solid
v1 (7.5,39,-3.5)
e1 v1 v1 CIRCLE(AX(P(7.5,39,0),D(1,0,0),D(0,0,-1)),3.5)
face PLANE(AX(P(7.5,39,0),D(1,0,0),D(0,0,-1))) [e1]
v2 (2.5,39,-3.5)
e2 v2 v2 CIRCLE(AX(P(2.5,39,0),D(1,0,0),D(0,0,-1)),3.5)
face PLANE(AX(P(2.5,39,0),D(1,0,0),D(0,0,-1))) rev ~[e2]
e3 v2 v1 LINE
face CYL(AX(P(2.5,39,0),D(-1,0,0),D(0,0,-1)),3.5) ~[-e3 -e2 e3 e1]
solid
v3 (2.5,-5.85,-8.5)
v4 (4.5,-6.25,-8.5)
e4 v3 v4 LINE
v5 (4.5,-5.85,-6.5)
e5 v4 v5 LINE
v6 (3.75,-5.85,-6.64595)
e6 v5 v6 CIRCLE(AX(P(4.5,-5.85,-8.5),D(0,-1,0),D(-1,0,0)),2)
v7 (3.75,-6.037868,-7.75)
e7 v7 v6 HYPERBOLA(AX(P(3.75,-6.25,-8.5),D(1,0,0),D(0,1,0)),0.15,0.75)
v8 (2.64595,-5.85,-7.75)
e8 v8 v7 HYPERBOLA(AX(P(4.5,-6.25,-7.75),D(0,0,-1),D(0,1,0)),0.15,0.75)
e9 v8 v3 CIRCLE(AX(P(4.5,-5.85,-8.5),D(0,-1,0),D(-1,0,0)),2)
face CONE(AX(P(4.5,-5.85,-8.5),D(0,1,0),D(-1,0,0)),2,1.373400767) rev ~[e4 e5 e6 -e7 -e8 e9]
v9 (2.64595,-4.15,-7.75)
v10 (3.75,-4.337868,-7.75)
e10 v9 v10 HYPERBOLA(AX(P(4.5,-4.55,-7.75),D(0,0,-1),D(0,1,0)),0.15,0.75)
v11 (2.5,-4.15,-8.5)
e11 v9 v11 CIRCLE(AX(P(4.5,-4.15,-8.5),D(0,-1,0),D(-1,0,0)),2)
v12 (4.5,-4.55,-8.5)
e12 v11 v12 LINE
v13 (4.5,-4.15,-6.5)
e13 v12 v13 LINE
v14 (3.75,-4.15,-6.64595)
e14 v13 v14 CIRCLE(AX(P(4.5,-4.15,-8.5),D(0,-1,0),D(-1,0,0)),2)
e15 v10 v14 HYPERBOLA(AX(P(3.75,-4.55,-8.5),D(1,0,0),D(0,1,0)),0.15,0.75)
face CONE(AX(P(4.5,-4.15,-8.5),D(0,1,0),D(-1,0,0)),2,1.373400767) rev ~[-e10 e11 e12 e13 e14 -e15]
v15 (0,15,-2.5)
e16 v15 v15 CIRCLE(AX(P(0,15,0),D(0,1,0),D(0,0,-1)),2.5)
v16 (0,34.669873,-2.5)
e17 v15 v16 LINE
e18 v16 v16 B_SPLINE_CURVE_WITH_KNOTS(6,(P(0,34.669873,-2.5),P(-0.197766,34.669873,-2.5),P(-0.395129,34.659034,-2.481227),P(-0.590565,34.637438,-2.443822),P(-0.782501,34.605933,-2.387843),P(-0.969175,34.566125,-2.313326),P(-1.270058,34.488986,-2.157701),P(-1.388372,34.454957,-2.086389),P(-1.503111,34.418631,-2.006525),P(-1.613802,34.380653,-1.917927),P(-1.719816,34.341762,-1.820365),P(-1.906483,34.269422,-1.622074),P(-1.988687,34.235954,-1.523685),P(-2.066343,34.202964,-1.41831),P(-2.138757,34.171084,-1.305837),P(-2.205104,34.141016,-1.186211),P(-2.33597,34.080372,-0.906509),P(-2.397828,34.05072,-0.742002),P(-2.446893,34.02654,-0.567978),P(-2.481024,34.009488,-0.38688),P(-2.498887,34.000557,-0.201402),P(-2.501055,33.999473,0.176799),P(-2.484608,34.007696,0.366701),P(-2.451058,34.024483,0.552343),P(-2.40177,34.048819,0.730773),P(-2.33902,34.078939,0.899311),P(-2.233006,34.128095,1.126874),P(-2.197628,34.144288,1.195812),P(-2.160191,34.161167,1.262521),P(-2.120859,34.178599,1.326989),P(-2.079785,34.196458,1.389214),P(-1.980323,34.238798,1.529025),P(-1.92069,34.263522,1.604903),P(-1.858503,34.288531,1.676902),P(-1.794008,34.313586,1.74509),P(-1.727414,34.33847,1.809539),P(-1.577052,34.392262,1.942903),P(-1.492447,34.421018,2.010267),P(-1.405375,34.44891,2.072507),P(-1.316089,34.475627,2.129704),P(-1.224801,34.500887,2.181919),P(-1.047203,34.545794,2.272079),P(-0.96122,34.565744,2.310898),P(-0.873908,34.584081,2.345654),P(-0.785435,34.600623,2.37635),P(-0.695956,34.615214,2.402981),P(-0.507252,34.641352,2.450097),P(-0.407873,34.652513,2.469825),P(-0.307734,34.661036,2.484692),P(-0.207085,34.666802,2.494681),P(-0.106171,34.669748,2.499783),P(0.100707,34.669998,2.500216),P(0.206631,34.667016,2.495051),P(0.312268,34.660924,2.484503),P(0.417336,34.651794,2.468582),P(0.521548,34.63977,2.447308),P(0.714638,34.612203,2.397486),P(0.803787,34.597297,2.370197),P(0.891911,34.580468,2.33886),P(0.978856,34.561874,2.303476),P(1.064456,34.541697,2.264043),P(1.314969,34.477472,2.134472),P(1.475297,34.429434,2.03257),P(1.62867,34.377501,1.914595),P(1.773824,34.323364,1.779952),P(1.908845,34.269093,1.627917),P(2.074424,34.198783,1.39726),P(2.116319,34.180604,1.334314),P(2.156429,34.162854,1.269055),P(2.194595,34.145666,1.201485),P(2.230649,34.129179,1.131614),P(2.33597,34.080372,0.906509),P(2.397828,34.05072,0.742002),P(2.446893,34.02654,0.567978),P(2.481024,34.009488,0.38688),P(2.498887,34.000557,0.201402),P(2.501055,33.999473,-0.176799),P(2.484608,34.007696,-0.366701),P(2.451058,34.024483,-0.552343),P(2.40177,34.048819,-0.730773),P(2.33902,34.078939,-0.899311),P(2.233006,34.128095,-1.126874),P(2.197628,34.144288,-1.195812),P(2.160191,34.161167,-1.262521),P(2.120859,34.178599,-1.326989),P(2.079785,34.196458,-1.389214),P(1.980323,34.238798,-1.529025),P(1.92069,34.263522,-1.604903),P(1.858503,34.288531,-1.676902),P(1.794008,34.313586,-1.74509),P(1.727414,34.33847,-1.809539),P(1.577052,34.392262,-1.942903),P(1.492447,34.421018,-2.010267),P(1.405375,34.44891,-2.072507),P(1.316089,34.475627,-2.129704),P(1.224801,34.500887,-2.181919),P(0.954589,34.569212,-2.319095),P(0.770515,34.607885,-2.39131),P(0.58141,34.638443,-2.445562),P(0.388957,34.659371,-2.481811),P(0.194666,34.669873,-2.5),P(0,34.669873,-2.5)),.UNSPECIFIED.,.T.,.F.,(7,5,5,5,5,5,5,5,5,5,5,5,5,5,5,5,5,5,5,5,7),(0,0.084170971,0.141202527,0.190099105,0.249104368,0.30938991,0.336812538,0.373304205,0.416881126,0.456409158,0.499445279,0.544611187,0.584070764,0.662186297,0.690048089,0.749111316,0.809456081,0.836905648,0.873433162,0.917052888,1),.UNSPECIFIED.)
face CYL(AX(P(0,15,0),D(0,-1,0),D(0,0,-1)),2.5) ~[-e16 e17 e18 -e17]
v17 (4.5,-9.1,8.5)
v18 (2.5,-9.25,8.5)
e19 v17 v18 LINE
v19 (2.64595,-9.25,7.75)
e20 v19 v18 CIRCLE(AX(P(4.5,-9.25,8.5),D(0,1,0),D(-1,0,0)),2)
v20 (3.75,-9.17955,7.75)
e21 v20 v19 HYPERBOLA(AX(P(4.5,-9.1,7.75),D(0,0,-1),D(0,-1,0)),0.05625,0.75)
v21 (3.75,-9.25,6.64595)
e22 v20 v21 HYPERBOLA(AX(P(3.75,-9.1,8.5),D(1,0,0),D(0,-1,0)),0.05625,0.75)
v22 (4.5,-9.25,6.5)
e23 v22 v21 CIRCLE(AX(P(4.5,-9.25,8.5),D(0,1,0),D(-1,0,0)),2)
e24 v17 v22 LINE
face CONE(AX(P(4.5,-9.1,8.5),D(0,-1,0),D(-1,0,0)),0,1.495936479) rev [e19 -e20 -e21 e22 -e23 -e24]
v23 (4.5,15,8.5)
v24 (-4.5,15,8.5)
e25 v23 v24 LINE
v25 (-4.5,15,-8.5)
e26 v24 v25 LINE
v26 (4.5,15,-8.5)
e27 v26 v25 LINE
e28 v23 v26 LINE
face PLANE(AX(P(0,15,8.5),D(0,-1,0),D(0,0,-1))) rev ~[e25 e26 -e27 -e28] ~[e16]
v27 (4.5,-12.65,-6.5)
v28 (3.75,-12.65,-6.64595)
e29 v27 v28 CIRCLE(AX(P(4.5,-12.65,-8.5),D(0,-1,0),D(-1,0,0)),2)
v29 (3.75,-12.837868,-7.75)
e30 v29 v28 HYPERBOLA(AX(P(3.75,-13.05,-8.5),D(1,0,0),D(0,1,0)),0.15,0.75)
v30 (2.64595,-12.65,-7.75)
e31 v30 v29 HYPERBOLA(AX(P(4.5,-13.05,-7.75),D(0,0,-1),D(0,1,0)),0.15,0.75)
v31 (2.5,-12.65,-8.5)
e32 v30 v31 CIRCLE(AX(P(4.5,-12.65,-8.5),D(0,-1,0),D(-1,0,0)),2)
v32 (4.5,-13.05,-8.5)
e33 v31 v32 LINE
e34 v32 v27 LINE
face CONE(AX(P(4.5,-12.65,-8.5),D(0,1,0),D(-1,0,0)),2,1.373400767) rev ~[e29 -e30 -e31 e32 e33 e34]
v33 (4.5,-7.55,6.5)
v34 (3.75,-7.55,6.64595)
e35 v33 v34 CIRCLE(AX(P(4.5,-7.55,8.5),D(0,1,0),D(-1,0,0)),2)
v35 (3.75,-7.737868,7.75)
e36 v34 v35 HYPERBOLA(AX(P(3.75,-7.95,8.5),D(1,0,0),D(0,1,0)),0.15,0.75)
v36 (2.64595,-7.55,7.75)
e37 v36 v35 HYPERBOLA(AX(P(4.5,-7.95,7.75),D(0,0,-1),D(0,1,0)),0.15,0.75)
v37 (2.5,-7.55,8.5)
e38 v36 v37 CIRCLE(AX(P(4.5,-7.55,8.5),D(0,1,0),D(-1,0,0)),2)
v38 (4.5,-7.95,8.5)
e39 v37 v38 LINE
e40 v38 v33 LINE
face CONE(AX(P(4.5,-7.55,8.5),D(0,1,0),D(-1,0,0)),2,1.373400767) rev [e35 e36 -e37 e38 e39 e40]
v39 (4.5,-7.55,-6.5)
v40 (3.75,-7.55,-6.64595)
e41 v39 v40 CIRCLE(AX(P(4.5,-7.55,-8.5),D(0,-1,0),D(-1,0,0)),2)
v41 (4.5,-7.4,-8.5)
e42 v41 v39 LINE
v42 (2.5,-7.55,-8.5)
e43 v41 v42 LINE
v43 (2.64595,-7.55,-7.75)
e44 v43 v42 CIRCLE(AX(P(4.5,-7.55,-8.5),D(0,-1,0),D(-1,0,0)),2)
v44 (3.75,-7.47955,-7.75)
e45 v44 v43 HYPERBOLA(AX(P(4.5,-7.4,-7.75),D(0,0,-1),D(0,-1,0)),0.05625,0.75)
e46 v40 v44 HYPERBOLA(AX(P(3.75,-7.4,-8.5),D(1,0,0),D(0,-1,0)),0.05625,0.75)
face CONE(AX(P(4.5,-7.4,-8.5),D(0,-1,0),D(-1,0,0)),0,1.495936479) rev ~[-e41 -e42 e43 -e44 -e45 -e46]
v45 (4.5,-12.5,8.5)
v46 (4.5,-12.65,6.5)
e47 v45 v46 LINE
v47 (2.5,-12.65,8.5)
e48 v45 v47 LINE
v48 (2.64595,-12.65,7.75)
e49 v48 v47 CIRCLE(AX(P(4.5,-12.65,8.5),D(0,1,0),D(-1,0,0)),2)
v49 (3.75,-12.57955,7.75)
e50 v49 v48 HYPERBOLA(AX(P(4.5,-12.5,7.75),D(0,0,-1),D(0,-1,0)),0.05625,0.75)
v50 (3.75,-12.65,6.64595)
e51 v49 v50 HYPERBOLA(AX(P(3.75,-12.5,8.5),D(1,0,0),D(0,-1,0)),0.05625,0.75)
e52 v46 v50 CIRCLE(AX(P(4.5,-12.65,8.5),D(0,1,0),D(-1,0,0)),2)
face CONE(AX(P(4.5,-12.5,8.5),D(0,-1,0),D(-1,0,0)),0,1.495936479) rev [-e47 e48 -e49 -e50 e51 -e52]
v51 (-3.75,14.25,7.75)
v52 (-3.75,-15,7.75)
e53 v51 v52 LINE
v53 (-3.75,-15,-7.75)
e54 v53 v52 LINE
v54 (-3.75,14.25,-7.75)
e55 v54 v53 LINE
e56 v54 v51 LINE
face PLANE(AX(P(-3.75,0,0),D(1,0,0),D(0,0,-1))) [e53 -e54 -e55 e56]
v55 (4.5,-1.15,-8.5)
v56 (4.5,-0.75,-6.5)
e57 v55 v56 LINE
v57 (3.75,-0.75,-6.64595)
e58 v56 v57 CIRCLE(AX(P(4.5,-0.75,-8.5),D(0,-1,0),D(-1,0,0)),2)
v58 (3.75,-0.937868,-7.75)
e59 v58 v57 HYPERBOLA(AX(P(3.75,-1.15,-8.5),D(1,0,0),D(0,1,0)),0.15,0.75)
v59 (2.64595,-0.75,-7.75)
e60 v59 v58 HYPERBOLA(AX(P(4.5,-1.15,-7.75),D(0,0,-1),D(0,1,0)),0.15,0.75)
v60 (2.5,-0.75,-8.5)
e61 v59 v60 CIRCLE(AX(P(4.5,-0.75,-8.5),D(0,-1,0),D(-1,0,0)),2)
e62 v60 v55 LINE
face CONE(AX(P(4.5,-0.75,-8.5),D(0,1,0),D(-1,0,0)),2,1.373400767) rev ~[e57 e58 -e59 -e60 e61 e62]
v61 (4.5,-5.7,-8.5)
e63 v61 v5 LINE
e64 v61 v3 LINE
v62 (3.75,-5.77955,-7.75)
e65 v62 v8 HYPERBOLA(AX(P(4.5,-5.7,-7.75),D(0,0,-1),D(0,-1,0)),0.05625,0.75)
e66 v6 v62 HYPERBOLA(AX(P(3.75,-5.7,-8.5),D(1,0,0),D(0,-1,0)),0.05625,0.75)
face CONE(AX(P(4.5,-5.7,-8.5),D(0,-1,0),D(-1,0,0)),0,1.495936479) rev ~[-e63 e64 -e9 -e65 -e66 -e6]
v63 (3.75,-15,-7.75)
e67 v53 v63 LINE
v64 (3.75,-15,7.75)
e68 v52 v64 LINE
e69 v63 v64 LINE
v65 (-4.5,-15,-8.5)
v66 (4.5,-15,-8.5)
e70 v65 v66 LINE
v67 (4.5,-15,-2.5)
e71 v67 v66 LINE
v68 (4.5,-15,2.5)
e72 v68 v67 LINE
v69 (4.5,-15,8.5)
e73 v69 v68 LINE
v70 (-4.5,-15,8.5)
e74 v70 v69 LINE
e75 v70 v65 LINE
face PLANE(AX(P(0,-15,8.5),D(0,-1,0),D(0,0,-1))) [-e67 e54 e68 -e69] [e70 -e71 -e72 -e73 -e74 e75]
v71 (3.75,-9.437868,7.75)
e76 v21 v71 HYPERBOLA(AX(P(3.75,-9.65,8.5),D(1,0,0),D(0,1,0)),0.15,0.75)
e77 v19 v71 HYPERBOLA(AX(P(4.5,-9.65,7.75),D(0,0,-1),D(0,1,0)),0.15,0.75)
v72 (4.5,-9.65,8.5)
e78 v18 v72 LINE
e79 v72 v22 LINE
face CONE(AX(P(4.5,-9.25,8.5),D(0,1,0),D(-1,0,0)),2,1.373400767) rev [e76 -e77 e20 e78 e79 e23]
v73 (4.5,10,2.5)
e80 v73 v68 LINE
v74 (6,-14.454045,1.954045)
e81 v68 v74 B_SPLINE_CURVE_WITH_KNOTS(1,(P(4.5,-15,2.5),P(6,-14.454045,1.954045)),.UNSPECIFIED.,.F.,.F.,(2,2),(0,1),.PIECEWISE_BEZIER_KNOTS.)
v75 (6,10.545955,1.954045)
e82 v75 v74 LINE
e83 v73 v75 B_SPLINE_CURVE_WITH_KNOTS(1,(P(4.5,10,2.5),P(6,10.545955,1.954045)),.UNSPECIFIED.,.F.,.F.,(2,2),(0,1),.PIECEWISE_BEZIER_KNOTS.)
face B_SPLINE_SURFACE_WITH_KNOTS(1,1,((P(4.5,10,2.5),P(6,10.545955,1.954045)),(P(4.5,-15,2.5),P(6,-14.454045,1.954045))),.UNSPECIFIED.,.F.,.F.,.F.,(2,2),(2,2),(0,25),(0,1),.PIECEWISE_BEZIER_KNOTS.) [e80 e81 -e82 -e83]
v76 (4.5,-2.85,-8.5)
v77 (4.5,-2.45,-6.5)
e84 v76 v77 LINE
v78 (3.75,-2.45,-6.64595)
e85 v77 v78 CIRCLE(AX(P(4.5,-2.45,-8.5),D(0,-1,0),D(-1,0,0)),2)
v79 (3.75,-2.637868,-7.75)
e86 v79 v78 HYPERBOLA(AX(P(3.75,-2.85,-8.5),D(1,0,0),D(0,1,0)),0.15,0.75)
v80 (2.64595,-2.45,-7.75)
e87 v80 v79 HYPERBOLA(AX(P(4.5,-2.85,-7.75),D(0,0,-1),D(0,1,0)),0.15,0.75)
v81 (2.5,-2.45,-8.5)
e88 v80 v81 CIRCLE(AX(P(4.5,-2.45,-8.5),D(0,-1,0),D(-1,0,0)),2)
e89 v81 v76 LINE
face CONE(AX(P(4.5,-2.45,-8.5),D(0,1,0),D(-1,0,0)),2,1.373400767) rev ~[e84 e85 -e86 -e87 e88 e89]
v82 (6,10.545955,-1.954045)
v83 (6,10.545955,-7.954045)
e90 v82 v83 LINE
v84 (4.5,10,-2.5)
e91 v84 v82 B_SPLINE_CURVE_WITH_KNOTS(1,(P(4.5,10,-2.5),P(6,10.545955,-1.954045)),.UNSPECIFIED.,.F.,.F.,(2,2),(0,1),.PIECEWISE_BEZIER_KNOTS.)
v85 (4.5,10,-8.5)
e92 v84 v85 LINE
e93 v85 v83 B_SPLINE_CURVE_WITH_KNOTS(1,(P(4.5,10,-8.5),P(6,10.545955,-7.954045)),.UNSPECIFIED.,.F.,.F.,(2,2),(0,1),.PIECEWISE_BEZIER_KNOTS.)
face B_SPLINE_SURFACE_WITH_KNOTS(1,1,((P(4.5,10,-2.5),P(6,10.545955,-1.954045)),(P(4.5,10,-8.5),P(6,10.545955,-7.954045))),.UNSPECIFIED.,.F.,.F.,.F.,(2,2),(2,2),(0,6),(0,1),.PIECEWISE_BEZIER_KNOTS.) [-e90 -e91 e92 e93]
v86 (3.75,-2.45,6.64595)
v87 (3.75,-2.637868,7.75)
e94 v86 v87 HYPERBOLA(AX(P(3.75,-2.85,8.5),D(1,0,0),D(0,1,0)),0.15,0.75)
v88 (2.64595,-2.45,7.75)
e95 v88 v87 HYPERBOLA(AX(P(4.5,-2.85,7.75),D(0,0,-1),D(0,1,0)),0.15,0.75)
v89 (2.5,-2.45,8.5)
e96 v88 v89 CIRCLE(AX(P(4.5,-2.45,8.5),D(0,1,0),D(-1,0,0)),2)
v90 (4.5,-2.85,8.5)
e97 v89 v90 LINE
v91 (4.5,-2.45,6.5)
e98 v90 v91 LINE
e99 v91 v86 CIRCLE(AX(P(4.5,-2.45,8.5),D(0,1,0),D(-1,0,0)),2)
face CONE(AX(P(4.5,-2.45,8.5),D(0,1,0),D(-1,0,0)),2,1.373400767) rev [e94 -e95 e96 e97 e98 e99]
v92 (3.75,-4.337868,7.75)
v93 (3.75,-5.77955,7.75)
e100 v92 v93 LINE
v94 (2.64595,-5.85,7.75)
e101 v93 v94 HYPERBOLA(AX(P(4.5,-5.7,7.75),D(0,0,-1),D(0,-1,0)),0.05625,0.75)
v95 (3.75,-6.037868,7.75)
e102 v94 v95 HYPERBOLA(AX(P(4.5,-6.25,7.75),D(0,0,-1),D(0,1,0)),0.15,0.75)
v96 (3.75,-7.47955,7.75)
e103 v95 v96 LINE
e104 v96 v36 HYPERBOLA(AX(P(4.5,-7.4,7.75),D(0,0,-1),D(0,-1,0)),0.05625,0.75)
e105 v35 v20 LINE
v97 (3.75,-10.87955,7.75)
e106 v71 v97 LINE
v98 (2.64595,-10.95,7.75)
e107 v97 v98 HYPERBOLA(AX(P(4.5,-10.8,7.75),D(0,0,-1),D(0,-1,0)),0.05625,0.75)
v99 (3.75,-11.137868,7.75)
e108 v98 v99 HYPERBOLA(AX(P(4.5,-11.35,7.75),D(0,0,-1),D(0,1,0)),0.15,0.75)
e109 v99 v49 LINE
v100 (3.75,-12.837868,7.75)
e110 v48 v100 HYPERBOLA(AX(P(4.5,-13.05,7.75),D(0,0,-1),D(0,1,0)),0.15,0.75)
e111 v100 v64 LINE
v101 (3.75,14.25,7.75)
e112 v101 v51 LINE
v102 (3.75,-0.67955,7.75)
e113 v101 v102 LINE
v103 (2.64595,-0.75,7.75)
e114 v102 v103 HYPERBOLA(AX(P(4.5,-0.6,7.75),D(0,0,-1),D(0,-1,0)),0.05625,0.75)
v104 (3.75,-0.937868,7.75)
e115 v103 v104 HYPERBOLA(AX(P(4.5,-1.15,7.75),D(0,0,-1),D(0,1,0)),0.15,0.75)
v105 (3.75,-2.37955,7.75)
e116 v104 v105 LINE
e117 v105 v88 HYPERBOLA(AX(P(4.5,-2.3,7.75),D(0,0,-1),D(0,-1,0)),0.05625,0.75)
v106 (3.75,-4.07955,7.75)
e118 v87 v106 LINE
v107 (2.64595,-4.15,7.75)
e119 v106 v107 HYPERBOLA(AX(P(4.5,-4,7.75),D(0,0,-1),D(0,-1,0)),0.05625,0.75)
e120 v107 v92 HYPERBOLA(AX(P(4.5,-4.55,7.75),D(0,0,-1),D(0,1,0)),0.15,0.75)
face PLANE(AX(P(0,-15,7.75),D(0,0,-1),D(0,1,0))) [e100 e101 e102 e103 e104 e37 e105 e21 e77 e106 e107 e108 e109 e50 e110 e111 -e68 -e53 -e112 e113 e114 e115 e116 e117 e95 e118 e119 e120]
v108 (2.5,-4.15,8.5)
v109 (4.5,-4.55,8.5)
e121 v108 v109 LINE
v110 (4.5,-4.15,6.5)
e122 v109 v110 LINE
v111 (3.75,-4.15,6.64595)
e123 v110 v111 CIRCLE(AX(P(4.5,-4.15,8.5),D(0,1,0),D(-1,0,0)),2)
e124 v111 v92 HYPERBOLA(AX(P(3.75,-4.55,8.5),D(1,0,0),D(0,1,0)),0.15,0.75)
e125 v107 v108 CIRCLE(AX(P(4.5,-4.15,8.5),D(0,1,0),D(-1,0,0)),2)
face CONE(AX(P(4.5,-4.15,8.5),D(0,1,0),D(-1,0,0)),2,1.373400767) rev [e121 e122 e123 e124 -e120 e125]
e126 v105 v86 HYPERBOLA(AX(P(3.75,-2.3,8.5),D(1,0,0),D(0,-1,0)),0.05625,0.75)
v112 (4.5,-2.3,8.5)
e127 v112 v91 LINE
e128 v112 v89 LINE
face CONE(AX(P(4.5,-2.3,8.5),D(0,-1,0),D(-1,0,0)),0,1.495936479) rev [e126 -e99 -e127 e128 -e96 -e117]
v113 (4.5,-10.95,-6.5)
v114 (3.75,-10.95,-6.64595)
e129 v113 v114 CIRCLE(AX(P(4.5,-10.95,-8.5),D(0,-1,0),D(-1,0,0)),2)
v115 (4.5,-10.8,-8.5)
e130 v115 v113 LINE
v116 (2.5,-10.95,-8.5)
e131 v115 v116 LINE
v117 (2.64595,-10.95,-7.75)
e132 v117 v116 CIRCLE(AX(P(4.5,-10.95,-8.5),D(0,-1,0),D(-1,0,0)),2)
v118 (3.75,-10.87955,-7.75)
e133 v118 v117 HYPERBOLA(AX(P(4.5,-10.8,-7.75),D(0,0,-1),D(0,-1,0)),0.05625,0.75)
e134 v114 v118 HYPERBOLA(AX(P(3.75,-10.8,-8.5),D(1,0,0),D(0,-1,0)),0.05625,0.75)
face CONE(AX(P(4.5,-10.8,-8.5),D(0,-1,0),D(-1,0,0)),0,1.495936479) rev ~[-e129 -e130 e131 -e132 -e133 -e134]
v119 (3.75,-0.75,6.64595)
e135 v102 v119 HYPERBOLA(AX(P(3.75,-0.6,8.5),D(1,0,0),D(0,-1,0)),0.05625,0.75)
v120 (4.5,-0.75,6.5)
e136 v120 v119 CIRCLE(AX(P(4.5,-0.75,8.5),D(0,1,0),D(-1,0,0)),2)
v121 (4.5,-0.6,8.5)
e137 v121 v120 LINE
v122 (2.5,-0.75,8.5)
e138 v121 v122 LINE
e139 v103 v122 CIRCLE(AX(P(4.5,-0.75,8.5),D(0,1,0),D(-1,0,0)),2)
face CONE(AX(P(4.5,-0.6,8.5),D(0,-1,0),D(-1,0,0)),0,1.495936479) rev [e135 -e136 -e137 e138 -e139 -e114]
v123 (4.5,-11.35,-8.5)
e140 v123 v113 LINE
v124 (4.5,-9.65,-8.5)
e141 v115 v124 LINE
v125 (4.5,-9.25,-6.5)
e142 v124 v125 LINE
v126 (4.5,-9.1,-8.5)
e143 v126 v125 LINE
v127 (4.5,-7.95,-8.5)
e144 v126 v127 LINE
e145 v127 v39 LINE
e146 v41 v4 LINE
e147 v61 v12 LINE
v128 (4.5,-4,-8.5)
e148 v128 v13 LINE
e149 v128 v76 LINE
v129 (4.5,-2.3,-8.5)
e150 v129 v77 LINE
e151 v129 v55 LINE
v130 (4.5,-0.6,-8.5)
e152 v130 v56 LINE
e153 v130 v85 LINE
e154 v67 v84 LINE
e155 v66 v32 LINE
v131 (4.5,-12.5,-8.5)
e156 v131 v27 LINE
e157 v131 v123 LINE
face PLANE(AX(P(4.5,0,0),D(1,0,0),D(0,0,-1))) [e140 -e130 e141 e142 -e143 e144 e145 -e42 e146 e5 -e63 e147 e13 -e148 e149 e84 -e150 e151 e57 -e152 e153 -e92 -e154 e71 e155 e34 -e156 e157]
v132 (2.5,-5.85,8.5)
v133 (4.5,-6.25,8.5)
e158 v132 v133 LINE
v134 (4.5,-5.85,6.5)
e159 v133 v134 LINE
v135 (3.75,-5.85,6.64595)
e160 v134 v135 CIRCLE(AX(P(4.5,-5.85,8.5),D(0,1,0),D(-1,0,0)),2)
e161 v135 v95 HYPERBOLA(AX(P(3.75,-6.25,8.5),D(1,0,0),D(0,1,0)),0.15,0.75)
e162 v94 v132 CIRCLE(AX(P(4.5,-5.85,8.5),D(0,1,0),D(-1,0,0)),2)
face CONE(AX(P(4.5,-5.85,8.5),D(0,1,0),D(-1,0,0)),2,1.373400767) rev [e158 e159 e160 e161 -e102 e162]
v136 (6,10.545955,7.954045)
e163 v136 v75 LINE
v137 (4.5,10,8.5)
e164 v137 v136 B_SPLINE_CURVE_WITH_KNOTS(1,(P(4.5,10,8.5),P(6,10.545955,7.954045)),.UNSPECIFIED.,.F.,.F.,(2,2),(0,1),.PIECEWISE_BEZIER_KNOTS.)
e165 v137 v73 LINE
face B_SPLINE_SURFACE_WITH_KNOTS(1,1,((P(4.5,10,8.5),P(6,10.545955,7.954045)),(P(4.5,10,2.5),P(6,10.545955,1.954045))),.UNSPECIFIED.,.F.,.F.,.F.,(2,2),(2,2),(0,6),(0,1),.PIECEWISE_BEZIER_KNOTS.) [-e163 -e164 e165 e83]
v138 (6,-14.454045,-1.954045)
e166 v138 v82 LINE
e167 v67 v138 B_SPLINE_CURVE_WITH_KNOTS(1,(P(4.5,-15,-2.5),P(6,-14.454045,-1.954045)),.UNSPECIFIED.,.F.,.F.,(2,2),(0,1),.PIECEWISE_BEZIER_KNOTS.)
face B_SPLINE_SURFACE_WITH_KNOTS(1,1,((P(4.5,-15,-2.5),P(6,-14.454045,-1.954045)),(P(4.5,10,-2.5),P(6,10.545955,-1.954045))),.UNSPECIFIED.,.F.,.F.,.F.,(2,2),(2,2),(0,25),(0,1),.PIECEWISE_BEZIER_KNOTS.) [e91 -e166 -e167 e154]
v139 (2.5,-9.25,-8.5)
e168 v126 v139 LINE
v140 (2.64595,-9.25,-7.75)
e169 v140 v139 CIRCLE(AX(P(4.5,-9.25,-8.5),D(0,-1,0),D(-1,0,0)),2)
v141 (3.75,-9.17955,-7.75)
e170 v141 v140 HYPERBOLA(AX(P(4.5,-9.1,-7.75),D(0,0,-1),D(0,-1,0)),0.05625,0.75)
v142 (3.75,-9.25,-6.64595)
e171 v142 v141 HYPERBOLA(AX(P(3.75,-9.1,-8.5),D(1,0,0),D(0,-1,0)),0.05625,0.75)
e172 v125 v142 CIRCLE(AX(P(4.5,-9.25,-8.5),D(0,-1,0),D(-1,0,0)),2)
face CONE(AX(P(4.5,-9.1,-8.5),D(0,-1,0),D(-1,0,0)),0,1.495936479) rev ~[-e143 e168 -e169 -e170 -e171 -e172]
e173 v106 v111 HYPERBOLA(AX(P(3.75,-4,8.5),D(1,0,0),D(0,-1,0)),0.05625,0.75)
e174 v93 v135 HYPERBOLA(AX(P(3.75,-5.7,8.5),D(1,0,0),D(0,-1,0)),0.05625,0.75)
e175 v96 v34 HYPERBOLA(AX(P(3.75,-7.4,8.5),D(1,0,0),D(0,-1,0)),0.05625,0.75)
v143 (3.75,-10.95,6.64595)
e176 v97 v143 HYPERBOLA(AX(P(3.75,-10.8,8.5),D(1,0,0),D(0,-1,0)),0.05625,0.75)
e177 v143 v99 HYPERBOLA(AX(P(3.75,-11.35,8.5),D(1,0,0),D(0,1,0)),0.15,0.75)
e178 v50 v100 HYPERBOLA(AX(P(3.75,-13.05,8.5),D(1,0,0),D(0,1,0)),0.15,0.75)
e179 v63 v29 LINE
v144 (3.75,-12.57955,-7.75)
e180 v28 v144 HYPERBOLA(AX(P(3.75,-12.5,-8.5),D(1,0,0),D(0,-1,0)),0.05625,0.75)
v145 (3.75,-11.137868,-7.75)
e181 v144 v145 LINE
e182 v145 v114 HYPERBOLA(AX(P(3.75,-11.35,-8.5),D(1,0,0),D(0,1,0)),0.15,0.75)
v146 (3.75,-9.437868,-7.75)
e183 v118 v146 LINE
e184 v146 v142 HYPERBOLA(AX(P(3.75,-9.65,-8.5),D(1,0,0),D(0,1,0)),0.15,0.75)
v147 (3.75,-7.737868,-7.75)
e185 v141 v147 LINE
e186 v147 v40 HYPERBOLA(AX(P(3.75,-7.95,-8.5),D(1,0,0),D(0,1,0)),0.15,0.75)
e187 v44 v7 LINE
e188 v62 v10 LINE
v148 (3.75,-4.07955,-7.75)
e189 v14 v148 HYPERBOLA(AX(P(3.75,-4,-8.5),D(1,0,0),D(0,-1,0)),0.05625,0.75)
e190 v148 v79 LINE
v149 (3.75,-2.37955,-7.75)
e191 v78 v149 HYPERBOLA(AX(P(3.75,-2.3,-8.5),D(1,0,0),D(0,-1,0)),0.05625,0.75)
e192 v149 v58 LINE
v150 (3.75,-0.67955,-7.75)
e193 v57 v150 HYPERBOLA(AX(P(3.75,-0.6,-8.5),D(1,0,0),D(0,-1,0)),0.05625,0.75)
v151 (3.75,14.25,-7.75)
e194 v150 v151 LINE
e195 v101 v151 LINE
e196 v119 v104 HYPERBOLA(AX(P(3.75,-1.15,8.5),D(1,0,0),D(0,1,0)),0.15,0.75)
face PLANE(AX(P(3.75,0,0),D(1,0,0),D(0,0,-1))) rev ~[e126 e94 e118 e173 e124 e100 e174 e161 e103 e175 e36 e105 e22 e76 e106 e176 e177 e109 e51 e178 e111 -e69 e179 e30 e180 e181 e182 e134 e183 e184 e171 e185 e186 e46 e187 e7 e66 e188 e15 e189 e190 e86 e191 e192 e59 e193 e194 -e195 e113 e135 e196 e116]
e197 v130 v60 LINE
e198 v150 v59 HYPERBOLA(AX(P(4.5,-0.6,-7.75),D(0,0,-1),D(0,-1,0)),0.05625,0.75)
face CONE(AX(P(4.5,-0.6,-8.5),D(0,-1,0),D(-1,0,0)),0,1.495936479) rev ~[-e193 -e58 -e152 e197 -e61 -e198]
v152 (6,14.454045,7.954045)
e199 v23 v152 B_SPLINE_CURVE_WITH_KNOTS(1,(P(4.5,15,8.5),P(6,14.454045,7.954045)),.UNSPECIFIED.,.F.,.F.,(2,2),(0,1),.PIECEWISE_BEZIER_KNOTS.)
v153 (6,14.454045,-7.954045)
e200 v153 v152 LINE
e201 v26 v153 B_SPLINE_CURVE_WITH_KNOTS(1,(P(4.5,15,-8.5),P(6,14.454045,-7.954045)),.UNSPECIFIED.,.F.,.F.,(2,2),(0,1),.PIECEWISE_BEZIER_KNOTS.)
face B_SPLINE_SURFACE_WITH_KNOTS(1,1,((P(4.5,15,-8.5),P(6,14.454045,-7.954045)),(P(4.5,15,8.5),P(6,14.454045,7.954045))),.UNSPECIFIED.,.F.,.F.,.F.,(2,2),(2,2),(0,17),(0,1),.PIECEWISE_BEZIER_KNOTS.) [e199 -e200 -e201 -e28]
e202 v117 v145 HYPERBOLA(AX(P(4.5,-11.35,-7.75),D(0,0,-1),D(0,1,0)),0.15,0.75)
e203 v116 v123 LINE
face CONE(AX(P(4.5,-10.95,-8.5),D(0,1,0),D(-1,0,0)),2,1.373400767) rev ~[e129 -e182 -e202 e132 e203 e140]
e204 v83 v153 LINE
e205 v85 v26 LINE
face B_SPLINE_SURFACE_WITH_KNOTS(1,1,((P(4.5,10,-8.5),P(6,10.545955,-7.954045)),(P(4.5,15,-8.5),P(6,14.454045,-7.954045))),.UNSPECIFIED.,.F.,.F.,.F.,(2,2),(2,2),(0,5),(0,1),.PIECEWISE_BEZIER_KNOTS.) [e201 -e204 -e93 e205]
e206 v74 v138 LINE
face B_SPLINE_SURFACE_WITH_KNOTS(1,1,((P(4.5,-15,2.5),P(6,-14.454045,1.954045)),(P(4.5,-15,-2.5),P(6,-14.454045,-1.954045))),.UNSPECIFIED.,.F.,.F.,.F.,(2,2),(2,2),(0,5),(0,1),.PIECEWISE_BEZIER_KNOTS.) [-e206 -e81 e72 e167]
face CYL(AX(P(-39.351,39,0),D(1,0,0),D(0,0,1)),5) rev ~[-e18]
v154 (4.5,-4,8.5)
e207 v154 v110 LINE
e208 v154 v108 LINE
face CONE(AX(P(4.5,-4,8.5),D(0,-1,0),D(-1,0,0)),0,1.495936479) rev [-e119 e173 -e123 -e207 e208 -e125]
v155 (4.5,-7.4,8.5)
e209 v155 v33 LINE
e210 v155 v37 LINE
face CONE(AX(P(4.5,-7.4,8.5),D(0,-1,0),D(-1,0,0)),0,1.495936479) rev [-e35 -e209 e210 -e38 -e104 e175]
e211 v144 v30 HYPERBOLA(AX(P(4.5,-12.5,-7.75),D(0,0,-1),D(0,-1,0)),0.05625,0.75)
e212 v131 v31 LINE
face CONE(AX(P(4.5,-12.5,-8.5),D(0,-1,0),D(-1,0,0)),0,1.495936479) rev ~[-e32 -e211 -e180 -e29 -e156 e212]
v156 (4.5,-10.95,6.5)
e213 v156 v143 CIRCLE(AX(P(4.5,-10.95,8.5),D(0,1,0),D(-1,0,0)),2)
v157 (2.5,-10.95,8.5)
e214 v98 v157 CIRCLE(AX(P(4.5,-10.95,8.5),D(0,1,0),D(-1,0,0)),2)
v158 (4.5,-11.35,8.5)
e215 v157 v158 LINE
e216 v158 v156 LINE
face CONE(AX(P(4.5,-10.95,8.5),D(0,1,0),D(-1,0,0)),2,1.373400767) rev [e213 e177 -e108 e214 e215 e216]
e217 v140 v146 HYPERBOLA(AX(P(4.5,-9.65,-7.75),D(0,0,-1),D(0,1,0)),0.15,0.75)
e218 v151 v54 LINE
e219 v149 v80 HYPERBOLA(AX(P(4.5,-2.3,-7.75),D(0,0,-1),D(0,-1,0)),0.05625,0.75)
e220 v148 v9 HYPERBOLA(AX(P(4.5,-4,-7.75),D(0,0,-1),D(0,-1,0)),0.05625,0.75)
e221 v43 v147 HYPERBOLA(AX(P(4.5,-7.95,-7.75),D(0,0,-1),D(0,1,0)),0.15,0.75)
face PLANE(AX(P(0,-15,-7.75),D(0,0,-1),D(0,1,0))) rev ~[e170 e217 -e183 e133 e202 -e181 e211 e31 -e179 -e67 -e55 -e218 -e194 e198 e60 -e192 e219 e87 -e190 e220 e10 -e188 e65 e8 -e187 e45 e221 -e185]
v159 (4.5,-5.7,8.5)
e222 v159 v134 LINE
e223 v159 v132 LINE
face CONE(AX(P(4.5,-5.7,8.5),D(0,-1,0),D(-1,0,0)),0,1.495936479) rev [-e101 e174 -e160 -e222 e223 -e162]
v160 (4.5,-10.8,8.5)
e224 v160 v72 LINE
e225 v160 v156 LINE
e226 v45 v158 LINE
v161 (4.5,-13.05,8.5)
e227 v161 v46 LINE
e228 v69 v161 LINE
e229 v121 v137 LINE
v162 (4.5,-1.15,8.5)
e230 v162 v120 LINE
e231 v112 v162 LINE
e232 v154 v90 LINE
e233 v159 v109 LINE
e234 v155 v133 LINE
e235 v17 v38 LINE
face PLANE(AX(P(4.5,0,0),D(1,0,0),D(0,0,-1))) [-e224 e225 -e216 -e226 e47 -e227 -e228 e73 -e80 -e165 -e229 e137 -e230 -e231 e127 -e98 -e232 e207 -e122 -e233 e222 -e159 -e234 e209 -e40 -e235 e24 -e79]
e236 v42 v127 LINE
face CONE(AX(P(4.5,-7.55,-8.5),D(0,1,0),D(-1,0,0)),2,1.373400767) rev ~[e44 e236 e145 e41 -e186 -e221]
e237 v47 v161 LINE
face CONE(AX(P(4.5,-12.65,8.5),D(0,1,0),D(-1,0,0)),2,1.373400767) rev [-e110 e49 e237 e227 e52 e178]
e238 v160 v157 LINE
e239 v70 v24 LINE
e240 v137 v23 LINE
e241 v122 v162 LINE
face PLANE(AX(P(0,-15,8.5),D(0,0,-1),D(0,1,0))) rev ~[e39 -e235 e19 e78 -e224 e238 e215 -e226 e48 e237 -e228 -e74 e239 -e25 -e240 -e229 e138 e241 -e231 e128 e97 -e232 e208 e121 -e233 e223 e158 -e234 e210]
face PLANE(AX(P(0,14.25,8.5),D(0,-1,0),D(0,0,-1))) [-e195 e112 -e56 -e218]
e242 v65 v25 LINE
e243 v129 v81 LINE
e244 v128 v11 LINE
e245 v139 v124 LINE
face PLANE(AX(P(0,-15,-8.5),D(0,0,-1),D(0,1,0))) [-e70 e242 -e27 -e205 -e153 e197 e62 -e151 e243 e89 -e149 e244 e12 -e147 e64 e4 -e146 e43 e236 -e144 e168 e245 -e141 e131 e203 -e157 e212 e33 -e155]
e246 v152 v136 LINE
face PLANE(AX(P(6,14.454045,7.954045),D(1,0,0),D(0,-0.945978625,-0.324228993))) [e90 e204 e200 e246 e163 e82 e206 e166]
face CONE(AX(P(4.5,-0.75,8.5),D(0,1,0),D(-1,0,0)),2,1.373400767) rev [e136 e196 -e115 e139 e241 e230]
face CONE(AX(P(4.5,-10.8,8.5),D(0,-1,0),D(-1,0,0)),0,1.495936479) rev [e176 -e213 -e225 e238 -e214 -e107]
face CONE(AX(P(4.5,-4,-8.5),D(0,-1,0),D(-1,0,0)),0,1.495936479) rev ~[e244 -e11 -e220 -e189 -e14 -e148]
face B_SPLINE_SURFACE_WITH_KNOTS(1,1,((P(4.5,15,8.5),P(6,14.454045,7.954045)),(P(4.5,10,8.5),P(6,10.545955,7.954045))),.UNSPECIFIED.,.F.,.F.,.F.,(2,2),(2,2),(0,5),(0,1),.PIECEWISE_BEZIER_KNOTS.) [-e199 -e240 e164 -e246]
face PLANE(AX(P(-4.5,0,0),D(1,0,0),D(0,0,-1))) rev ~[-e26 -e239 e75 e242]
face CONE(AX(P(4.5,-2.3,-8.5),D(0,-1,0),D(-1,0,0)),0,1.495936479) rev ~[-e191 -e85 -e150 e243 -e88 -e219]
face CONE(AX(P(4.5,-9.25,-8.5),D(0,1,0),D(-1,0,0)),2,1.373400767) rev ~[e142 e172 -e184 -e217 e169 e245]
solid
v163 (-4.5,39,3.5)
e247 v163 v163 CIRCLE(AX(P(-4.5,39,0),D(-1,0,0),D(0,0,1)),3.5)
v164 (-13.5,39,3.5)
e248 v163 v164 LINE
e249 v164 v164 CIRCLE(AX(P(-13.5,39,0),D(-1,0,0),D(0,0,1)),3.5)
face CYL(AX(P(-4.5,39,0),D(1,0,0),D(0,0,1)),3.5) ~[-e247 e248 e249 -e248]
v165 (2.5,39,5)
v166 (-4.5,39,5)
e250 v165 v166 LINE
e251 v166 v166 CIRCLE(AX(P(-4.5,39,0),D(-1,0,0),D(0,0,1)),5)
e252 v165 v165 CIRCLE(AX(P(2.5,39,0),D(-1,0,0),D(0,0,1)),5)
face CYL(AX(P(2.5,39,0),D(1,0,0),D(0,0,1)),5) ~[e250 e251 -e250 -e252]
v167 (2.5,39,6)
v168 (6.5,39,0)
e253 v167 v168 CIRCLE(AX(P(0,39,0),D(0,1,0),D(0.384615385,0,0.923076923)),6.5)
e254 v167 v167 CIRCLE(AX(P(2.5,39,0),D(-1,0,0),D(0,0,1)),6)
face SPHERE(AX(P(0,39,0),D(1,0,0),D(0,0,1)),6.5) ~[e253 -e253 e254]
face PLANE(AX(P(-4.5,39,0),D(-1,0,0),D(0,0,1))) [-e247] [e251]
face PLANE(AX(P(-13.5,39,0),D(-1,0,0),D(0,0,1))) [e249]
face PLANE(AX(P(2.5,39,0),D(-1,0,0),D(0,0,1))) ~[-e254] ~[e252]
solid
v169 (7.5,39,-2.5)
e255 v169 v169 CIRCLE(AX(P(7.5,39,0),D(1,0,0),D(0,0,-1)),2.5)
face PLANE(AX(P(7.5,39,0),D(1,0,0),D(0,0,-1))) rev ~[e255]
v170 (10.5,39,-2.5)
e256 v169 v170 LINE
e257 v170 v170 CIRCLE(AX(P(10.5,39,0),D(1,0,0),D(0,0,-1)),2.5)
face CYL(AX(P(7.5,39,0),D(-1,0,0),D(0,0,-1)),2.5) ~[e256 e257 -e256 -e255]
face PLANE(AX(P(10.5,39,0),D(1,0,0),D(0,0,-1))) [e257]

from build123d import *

# Parameters (mm, degrees)
SKETCH2_W                = 17
SKETCH2_H                = 30
BOSS_EXTRUDE1_DEPTH      = 4.5
SHELL1_T                 = -0.75
LPATTERN1_COUNT          = 8
LPATTERN1_PITCH          = 1.7
SKETCH7_R                = 5
BOSS_EXTRUDE3_DEPTH      = 7
BOSS_EXTRUDE2_REACH      = 33.851
BOSS_EXTRUDE2_END_RADIUS = 5
SKETCH3_R                = 2.5
SKETCH8_R                = 3.5
BOSS_EXTRUDE4_DEPTH      = 9
SKETCH9_R                = 3.5
BOSS_EXTRUDE5_DEPTH      = 5
SKETCH11_R               = 2.5
BOSS_EXTRUDE6_DEPTH      = 3
BOSS_EXTRUDE7_DEPTH      = 1.5
BOSS_EXTRUDE7_TAPER      = 20


with BuildPart() as part:
    # Sketch2 → Boss-Extrude1 (new, symmetric)
    with BuildSketch(Plane(origin=(0, 0, 0), x_dir=(0, 0, -1), z_dir=(1, 0, 0))):
        Rectangle(SKETCH2_W, SKETCH2_H)
    extrude(amount=BOSS_EXTRUDE1_DEPTH, both=True)

    # Shell1
    shell1_openings = [part.faces().sort_by_distance(p)[0] for p in [
        (0, -15, 0),
    ]]
    offset(amount=SHELL1_T, openings=shell1_openings, kind=Kind.INTERSECTION)

    # Sketch12 → Cut-Revolve1 (revolve, cut)
    with BuildSketch(Plane.XY.offset(8.5)):
        Polygon((4.5, -12.5), (2.5, -12.65), (4.5, -13.05), align=None)
    cut_revolve1 = revolve(axis=Axis((4.5, -15, 8.5), (0, 1, 0)), mode=Mode.SUBTRACT)

    # LPattern1: Cut-Revolve1 ×8
    with Locations(*[(0, i * LPATTERN1_PITCH, 0) for i in range(1, LPATTERN1_COUNT)]):
        add(cut_revolve1, mode=Mode.SUBTRACT)

    # Boss-Extrude2: up to this cylinder (the profile starts outside it)
    boss_extrude2_end = Plane(origin=(0, 39, 0), z_dir=(1, 0, 0)) * Cylinder(BOSS_EXTRUDE2_END_RADIUS, 78.702, mode=Mode.PRIVATE)
    # Sketch3 → Boss-Extrude2 (add, up to the surface)
    with BuildSketch(Plane(origin=(0, 15, 0), x_dir=(1, 0, 0), z_dir=(0, 1, 0)), mode=Mode.PRIVATE) as boss_extrude2_sk1:
        with Locations(Location((0, 0, 0), (0, 0, 90))):
            Circle(SKETCH3_R)
    boss_extrude2_tool1 = extrude(boss_extrude2_sk1.sketch, amount=BOSS_EXTRUDE2_REACH, mode=Mode.PRIVATE) - boss_extrude2_end
    add(boss_extrude2_tool1.solids().sort_by_distance((0, 15, 0))[0])

    # Sketch13 → Boss-Extrude7 (add)
    with BuildSketch(Plane(origin=(4.5, 0, 0), x_dir=(0, 0, -1), z_dir=(1, 0, 0))):
        Polygon((-8.5, 15), (-8.5, 10), (-2.5, 10), (-2.5, -15), (2.5, -15), (2.5, 10), (8.5, 10), (8.5, 15), align=None)
    extrude(amount=BOSS_EXTRUDE7_DEPTH, taper=BOSS_EXTRUDE7_TAPER)

    # Mirror1: Cut-Revolve1 across plane
    add(cut_revolve1.mirror(Plane.XY), mode=Mode.SUBTRACT)

    # Mirror1 copy 1 sketch → Mirror1 copy 1 (revolve, cut)
    with BuildSketch(Plane(origin=(0, 1.7, -8.5), x_dir=(1, 0, 0), z_dir=(0, 0, -1))):
        Polygon((4.5, 12.5), (2.5, 12.65), (4.5, 13.05), align=None)
    revolve(axis=Axis((4.5, -13.3, -8.5), (0, -1, 0)), mode=Mode.SUBTRACT)

    # Mirror1 copy 2 sketch → Mirror1 copy 2 (revolve, cut)
    with BuildSketch(Plane(origin=(0, 3.4, -8.5), x_dir=(1, 0, 0), z_dir=(0, 0, -1))):
        Polygon((4.5, 12.5), (2.5, 12.65), (4.5, 13.05), align=None)
    revolve(axis=Axis((4.5, -11.6, -8.5), (0, -1, 0)), mode=Mode.SUBTRACT)

    # Mirror1 copy 3 sketch → Mirror1 copy 3 (revolve, cut)
    with BuildSketch(Plane(origin=(0, 5.1, -8.5), x_dir=(1, 0, 0), z_dir=(0, 0, -1))):
        Polygon((4.5, 12.5), (2.5, 12.65), (4.5, 13.05), align=None)
    revolve(axis=Axis((4.5, -9.9, -8.5), (0, -1, 0)), mode=Mode.SUBTRACT)

    # Mirror1 copy 4 sketch → Mirror1 copy 4 (revolve, cut)
    with BuildSketch(Plane(origin=(0, 6.8, -8.5), x_dir=(1, 0, 0), z_dir=(0, 0, -1))):
        Polygon((4.5, 12.5), (2.5, 12.65), (4.5, 13.05), align=None)
    revolve(axis=Axis((4.5, -8.2, -8.5), (0, -1, 0)), mode=Mode.SUBTRACT)

    # Mirror1 copy 5 sketch → Mirror1 copy 5 (revolve, cut)
    with BuildSketch(Plane(origin=(0, 8.5, -8.5), x_dir=(1, 0, 0), z_dir=(0, 0, -1))):
        Polygon((4.5, 12.5), (2.5, 12.65), (4.5, 13.05), align=None)
    revolve(axis=Axis((4.5, -6.5, -8.5), (0, -1, 0)), mode=Mode.SUBTRACT)

    # Mirror1 copy 6 sketch → Mirror1 copy 6 (revolve, cut)
    with BuildSketch(Plane(origin=(0, 10.2, -8.5), x_dir=(1, 0, 0), z_dir=(0, 0, -1))):
        Polygon((4.5, 12.5), (2.5, 12.65), (4.5, 13.05), align=None)
    revolve(axis=Axis((4.5, -4.8, -8.5), (0, -1, 0)), mode=Mode.SUBTRACT)

    # Mirror1 copy 7 sketch → Mirror1 copy 7 (revolve, cut)
    with BuildSketch(Plane(origin=(0, 11.9, -8.5), x_dir=(1, 0, 0), z_dir=(0, 0, -1))):
        Polygon((4.5, 12.5), (2.5, 12.65), (4.5, 13.05), align=None)
    revolve(axis=Axis((4.5, -3.1, -8.5), (0, -1, 0)), mode=Mode.SUBTRACT)


with BuildPart() as body_2:
    # Sketch5 → Revolve1 (revolve)
    with BuildSketch(Plane(origin=(0, 39, 0), x_dir=(1, 0, 0), z_dir=(0, 1, 0)), mode=Mode.PRIVATE) as revolve1_sk:
        with BuildLine():
            Line((2.5, 0), (2.5, 6))
            ThreePointArc((2.5, 6), (5.408326913, 3.605551275), (6.5, 0))
            Line((6.5, 0), (2.5, 0))
        make_face()
    revolve(revolve1_sk.sketch.rotate(Axis((16.74985483, 39, 0), (-1, 0, 0)), 180), axis=Axis((16.74985483, 39, 0), (-1, 0, 0)))

    # Sketch7 → Boss-Extrude3 (add)
    with BuildSketch(Plane.ZY.offset(-2.5)):
        with Locations((0, 39)):
            Circle(SKETCH7_R)
    extrude(amount=BOSS_EXTRUDE3_DEPTH)

    # Sketch8 → Boss-Extrude4 (add)
    with BuildSketch(Plane.ZY.offset(4.5)):
        with Locations((0, 39)):
            Circle(SKETCH8_R)
    extrude(amount=BOSS_EXTRUDE4_DEPTH)


with BuildPart() as body_3:
    # Sketch9 → Boss-Extrude5 (new body)
    with BuildSketch(Plane(origin=(2.5, 0, 0), x_dir=(0, 0, -1), z_dir=(1, 0, 0))):
        with Locations((0, 39)):
            Circle(SKETCH9_R)
    extrude(amount=BOSS_EXTRUDE5_DEPTH)


with BuildPart() as body_4:
    # Sketch11 → Boss-Extrude6 (new body)
    with BuildSketch(Plane(origin=(7.5, 0, 0), x_dir=(0, 0, -1), z_dir=(1, 0, 0))):
        with Locations((0, 39)):
            Circle(SKETCH11_R)
    extrude(amount=BOSS_EXTRUDE6_DEPTH)


solid = Compound([part.part, body_2.part, body_3.part, body_4.part])
